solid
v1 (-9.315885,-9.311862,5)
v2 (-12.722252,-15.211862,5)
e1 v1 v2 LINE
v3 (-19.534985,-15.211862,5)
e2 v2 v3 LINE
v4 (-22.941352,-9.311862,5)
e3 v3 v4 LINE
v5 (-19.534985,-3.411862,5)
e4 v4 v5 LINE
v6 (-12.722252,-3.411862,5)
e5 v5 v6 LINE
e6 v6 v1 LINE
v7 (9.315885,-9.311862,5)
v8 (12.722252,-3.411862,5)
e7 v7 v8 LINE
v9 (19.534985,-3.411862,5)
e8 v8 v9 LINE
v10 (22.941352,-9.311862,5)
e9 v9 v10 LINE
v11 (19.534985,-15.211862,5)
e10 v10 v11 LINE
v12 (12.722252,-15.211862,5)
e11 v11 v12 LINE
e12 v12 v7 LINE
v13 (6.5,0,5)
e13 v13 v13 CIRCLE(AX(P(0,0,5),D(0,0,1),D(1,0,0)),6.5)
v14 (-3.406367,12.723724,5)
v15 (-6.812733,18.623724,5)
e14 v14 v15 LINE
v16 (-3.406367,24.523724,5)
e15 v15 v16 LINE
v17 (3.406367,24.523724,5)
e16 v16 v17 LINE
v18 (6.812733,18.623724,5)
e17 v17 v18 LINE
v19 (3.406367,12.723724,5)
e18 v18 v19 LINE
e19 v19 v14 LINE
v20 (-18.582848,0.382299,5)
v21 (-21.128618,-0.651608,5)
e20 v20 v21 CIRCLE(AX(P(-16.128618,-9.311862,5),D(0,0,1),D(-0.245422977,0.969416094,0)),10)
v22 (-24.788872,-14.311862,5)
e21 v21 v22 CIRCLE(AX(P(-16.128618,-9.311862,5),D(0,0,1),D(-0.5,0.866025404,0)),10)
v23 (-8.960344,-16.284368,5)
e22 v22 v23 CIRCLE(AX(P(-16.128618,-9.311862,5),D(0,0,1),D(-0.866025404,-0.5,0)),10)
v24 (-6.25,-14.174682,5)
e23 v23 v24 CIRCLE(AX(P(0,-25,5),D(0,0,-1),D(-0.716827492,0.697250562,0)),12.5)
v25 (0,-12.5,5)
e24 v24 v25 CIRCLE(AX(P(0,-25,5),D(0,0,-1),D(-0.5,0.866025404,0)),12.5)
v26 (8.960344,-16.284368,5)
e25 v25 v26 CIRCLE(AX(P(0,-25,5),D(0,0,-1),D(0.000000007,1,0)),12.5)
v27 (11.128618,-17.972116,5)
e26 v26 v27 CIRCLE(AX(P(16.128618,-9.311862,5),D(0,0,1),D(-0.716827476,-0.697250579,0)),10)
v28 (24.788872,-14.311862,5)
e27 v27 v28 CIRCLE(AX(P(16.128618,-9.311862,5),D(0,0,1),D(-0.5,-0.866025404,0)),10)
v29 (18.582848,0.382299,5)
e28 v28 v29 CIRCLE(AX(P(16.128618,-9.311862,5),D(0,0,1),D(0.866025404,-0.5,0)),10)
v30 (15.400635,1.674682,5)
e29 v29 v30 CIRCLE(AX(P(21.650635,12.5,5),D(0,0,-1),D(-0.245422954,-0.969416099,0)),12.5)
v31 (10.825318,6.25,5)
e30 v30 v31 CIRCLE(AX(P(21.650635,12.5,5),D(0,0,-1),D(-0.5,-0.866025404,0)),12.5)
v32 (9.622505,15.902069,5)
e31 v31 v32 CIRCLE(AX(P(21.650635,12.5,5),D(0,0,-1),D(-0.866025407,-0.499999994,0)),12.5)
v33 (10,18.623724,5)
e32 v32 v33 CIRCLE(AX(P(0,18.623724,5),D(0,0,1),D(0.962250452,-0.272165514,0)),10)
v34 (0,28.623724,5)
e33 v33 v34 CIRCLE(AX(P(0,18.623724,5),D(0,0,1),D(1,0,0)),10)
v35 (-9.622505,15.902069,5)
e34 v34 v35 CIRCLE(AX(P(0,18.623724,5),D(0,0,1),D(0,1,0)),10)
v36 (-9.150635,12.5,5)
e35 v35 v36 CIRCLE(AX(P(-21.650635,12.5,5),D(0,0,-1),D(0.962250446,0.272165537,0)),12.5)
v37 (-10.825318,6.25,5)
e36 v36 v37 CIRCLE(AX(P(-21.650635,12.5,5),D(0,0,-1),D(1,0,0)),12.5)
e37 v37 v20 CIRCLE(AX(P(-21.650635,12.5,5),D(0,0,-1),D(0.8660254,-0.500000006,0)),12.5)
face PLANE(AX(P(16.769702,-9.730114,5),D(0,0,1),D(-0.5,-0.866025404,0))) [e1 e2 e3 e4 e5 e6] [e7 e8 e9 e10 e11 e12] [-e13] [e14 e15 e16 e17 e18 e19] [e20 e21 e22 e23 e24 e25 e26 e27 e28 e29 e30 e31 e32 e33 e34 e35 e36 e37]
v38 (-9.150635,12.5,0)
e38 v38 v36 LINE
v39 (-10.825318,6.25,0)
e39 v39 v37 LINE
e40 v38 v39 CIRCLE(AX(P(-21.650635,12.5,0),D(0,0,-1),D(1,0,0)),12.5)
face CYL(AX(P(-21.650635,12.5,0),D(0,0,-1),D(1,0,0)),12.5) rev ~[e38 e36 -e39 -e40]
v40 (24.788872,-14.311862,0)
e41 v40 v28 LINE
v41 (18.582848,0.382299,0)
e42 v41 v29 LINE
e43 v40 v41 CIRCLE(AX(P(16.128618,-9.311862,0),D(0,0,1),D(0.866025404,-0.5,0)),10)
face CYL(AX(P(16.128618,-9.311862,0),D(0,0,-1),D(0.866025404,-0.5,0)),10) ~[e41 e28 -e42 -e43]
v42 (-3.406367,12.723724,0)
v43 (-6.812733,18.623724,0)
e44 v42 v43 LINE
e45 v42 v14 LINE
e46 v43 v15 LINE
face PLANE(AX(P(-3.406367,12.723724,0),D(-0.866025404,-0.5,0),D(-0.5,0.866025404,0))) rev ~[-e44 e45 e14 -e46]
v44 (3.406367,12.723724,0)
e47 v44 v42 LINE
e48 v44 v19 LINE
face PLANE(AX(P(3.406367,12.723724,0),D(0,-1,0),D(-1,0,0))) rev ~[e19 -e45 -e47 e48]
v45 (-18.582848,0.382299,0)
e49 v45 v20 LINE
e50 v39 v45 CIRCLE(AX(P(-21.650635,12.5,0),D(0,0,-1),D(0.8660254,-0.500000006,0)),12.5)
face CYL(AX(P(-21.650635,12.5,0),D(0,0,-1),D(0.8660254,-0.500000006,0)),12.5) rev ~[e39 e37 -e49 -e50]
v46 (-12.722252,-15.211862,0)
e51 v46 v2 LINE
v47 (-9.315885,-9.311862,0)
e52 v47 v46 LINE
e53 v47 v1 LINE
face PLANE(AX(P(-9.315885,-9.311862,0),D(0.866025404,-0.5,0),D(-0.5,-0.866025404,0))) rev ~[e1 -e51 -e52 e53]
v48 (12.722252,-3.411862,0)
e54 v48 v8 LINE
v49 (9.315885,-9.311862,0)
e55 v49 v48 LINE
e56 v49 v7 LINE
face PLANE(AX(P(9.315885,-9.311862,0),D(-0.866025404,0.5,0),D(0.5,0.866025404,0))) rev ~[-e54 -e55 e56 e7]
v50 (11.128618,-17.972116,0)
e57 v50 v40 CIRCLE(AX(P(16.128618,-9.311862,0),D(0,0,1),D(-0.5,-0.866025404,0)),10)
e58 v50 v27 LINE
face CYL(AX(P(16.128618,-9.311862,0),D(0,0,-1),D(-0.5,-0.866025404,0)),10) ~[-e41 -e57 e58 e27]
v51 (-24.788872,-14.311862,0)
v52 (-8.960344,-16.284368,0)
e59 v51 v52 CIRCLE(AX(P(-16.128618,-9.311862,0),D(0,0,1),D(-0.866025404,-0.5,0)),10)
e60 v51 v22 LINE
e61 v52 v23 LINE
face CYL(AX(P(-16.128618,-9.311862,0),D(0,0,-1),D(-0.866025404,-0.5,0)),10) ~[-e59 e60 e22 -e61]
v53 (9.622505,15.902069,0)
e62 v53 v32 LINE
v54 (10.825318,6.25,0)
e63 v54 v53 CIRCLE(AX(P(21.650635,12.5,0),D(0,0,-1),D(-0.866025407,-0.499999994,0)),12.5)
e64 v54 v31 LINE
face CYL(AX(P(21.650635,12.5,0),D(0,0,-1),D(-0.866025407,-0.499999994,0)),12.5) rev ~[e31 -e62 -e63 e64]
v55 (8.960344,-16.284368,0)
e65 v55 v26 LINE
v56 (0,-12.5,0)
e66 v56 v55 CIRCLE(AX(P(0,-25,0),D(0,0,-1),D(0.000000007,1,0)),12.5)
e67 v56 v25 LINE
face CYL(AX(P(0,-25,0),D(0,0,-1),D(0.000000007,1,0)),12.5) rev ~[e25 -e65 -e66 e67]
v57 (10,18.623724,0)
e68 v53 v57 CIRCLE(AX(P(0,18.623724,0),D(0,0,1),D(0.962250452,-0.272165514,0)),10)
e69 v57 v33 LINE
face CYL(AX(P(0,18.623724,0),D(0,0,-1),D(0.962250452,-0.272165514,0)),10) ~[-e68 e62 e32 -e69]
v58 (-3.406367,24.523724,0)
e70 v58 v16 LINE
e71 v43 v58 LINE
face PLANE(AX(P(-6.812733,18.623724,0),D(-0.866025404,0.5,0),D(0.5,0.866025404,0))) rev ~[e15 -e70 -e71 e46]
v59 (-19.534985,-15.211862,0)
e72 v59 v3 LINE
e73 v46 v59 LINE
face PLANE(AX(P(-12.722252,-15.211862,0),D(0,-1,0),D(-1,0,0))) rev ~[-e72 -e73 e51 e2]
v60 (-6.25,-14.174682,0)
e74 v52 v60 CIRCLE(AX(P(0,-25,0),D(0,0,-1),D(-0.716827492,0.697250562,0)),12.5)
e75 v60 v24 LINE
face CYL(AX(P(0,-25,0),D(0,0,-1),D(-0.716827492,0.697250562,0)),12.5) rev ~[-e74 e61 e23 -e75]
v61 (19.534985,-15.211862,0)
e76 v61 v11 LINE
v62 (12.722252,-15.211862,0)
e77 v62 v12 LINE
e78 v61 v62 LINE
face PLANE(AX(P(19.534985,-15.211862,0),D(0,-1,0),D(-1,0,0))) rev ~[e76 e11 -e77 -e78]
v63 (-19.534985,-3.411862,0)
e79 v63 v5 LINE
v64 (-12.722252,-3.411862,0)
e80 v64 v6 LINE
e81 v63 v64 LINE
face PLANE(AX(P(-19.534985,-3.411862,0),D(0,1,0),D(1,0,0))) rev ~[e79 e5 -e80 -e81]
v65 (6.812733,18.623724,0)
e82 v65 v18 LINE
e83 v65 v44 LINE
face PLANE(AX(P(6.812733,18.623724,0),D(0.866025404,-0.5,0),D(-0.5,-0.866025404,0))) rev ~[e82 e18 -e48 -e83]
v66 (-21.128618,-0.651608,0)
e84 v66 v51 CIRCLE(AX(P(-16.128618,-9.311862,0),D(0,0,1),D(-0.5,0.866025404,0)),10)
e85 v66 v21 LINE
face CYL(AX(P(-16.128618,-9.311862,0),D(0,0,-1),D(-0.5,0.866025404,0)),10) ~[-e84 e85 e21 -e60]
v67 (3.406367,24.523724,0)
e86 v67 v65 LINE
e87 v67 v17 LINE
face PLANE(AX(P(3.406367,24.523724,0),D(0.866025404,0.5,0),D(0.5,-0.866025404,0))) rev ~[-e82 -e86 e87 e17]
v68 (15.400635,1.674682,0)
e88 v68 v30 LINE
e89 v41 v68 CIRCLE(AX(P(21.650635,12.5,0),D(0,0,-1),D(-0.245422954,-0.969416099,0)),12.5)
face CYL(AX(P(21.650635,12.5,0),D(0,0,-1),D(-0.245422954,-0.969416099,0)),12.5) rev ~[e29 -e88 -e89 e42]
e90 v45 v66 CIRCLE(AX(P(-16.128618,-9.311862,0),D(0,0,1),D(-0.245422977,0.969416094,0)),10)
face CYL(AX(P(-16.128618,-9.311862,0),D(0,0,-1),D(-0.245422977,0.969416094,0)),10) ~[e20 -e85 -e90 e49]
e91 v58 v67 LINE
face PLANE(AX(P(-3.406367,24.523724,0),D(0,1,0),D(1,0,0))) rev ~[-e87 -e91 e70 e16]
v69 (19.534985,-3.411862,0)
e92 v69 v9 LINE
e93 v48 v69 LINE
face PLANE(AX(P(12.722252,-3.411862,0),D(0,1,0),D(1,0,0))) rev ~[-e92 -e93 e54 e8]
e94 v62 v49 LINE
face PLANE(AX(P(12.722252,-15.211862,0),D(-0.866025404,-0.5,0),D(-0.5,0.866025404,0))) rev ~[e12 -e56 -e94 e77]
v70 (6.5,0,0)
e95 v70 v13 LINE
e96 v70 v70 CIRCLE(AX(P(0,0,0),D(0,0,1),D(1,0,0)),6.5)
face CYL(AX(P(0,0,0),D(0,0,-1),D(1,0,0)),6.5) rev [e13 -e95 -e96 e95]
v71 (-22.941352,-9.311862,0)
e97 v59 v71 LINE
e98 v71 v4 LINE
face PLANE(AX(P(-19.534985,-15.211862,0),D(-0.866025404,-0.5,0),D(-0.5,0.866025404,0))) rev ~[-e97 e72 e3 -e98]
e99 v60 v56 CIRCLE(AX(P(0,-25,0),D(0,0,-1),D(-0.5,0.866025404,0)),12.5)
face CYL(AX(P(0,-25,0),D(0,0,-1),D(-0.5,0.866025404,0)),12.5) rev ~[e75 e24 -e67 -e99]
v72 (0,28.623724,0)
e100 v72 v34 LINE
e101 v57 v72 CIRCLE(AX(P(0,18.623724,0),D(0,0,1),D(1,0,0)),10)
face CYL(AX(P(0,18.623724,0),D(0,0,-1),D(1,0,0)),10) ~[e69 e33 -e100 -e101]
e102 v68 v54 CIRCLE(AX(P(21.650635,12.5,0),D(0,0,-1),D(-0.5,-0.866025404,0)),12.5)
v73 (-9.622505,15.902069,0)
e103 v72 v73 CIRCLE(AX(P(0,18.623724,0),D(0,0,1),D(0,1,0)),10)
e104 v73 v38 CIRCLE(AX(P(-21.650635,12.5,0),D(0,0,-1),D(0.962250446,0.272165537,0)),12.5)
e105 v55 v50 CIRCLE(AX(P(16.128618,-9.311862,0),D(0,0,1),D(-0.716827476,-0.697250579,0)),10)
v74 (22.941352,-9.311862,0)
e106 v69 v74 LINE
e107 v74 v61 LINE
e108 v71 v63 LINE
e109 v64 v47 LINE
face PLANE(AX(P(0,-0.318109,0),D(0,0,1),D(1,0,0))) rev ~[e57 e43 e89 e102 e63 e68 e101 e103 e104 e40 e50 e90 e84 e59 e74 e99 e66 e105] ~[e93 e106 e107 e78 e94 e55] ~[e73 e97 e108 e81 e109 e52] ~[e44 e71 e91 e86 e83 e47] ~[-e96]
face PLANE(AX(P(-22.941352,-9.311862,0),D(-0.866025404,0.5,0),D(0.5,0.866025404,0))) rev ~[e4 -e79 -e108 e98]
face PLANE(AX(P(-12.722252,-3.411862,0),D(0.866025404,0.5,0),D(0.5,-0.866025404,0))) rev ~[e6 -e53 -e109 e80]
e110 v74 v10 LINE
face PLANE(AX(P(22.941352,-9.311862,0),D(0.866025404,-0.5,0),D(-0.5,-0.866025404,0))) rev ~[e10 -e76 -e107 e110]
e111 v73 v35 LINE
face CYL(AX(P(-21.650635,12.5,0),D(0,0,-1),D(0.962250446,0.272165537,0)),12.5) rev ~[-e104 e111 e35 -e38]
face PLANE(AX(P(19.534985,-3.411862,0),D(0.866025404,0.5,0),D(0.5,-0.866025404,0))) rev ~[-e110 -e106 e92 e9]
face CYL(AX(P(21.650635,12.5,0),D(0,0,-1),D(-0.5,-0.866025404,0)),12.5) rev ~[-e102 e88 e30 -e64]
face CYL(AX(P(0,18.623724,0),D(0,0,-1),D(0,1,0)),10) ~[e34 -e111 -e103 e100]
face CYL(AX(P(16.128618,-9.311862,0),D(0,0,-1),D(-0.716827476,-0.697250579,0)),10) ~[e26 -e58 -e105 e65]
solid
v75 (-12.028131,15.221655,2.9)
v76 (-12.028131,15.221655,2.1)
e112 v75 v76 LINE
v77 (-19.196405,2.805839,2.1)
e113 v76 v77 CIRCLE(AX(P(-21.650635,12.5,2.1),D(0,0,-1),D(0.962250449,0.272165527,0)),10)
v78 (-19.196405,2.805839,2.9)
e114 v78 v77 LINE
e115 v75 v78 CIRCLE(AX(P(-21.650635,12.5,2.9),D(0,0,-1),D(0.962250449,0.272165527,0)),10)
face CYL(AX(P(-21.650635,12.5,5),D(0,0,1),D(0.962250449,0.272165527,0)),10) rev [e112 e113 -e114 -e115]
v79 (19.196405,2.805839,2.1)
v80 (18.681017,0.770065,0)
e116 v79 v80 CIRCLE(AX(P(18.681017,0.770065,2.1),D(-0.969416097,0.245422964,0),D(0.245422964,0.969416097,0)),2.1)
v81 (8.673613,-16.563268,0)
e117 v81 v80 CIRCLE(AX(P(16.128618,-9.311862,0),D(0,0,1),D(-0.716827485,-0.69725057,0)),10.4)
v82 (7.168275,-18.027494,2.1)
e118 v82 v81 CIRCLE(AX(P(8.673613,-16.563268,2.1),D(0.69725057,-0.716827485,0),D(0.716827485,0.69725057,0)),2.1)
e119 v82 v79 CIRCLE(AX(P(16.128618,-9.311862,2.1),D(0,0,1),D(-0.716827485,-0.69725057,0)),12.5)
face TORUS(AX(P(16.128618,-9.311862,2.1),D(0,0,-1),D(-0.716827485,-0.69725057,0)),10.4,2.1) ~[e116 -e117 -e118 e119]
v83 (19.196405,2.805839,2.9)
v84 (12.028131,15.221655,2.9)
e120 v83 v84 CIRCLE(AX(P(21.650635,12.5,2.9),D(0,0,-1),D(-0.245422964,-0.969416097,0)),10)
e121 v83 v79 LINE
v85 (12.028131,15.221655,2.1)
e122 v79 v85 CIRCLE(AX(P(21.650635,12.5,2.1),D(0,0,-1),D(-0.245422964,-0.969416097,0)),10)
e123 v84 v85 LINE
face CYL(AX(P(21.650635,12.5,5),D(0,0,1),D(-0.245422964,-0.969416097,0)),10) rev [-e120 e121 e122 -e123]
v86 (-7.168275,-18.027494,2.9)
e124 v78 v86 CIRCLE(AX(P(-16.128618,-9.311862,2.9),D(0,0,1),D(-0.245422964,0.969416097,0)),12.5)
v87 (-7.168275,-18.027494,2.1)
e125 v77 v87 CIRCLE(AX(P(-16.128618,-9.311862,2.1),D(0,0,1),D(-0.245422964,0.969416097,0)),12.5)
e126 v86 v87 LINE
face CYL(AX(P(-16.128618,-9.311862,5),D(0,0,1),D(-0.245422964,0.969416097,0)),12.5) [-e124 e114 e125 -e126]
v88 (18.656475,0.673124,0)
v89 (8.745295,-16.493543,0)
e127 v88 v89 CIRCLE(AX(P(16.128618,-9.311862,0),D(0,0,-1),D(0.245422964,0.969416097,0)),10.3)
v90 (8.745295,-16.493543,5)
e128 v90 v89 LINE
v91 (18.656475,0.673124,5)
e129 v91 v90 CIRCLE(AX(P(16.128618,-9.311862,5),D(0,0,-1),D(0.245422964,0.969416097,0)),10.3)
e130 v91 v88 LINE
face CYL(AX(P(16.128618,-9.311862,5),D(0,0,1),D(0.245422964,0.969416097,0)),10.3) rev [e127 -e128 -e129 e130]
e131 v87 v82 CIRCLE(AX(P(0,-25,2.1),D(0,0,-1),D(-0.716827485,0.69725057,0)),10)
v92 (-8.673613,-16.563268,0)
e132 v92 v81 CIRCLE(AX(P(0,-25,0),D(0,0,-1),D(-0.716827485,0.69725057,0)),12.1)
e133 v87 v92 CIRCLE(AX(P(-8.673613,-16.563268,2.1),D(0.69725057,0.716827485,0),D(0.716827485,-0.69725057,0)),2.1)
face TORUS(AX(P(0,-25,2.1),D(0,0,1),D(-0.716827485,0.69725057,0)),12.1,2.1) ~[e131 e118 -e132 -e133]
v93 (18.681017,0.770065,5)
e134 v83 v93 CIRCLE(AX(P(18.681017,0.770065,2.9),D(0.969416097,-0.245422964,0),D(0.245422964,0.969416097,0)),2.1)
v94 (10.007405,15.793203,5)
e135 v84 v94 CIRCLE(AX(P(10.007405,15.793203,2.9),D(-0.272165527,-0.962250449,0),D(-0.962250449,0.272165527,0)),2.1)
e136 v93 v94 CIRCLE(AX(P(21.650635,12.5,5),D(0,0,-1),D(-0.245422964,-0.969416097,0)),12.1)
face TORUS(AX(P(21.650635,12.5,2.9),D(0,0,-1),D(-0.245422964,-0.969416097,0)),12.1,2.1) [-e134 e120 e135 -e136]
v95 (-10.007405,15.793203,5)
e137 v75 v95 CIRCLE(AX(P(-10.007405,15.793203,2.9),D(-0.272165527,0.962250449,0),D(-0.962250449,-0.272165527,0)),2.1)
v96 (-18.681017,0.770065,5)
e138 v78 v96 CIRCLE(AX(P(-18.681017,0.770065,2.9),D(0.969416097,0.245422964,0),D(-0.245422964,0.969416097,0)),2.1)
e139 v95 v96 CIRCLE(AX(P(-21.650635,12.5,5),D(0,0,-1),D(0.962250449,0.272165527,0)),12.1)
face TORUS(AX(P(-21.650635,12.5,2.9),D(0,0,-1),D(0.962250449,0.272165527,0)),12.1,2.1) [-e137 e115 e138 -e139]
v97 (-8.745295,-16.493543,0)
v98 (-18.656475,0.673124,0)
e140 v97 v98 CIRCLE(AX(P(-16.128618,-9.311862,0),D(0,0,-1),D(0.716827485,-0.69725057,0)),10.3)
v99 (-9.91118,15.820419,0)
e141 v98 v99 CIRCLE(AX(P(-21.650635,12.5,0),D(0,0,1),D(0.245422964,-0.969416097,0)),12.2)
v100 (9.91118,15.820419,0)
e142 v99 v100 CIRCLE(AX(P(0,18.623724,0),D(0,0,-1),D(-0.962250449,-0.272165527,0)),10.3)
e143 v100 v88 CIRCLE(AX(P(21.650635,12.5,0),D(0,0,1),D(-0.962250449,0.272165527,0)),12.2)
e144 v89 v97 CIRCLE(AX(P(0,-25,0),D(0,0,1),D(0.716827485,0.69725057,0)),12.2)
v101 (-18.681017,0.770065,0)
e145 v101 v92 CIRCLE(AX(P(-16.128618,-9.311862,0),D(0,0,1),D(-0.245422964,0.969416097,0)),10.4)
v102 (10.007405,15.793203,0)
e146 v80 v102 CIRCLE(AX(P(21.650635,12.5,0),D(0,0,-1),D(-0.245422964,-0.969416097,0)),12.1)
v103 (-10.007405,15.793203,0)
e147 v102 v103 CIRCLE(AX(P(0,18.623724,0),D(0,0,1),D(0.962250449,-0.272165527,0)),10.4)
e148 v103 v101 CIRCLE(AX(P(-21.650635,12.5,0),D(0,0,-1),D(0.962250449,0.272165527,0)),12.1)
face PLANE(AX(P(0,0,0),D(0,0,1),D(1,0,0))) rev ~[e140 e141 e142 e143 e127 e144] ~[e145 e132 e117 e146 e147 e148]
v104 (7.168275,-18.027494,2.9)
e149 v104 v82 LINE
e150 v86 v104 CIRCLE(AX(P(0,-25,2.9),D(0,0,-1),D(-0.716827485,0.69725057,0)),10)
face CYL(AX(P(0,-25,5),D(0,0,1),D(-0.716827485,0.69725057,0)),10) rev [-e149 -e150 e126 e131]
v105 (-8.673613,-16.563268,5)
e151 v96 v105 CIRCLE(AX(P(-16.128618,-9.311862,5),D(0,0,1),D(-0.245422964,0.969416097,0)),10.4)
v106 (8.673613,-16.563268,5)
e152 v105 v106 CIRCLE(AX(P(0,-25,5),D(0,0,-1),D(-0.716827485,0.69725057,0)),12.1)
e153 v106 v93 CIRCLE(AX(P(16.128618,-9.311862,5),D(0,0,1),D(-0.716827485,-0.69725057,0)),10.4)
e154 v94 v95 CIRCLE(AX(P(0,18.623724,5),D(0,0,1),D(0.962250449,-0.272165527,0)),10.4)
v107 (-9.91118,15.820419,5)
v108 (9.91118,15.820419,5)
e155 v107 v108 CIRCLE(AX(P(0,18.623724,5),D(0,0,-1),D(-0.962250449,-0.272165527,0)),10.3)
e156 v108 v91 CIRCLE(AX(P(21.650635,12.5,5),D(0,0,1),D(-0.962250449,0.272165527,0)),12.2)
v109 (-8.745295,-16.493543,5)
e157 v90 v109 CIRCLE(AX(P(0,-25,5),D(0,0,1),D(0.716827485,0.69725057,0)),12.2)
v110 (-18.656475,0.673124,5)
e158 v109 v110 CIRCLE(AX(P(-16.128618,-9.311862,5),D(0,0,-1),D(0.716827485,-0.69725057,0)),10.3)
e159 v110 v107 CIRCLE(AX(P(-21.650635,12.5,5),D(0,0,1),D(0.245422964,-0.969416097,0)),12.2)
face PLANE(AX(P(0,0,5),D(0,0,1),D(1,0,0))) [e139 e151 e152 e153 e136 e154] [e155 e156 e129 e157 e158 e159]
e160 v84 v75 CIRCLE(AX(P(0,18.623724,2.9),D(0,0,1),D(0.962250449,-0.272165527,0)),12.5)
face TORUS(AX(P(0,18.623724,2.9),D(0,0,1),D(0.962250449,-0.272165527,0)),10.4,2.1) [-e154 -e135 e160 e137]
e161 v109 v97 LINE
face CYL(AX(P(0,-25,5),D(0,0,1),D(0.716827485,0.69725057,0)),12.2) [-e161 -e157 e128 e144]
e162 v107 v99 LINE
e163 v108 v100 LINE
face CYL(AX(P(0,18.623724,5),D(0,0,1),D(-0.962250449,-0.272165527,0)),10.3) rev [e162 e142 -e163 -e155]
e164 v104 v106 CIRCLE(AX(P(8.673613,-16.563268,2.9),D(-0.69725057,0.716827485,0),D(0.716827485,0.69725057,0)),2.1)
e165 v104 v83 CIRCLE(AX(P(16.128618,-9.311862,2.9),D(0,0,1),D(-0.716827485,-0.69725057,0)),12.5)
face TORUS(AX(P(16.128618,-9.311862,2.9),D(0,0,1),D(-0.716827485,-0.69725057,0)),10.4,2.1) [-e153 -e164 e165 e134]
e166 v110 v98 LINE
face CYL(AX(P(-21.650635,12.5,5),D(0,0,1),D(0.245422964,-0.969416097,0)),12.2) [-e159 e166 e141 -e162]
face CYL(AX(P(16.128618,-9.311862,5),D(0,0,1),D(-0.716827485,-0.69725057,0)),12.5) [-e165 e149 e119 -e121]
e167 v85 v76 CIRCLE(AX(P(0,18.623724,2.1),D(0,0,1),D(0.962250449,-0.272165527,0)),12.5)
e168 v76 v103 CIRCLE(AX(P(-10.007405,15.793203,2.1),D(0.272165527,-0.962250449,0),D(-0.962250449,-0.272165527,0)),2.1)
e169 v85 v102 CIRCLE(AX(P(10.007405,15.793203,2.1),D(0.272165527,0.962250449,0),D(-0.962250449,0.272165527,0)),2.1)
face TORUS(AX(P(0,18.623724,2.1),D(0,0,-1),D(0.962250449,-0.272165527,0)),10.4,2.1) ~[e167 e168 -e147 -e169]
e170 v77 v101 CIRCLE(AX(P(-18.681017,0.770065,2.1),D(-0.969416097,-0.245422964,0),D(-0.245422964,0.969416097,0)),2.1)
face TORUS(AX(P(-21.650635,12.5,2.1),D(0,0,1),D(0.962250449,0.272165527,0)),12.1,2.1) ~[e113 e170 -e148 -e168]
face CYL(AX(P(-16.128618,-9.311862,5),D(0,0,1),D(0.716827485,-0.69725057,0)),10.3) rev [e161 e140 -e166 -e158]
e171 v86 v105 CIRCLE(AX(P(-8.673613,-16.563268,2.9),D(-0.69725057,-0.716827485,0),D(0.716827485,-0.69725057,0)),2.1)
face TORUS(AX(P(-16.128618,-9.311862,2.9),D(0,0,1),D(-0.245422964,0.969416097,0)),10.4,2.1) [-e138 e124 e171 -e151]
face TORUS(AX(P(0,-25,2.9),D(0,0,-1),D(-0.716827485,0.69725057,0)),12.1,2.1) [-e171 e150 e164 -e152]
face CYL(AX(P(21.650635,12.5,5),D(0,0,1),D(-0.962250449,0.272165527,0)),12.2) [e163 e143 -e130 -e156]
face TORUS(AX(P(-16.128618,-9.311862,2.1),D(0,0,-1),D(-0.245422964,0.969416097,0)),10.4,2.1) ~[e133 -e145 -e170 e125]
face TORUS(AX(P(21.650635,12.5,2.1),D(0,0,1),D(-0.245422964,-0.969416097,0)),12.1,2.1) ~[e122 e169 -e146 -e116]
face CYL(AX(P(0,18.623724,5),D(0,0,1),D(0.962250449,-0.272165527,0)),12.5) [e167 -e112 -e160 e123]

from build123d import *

# Parameters (mm, degrees)
F0_R     = 6.5
F1_DEPTH = 5
F2_DEPTH = 5
F3_COUNT = 3
F5_DEPTH = 5
F6_R     = 2.1


with BuildPart() as f1:
    # F0 (on Top) → F1 (new body)
    with BuildSketch(Plane.XY):
        with BuildLine():
            ThreePointArc((-2.67e-08, 8.623724357), (-4.1144438872, 9.5093756968), (-7.5000952085, 12.0094540372))
            Line((-7.5000952085, 12.0094540372), (-10.8253174881, 6.2500001026))
            Line((-10.8253174881, 6.2500001026), (-14.4337567297, 0))
            Line((-14.4337567297, 0), (-7.2168783649, -12.5))
            Line((-7.2168783649, -12.5), (7.2168783649, -12.5))
            Line((7.2168783649, -12.5), (14.4337567297, 0))
            Line((14.4337567297, 0), (10.8253175028, 6.2500000771))
            Line((10.8253175028, 6.2500000771), (7.5000952085, 12.0094540372))
            ThreePointArc((7.5000952085, 12.0094540372), (4.1144438629, 9.5093756858), (-2.67e-08, 8.623724357))
        make_face()
        Circle(F0_R, mode=Mode.SUBTRACT)
        with BuildLine():
            Line((7.2168783649, 12.5), (-7.2168783649, 12.5))
            Line((-7.2168783649, 12.5), (-7.5000952085, 12.0094540372))
            ThreePointArc((-7.5000952085, 12.0094540372), (-4.1144438872, 9.5093756968), (-2.67e-08, 8.623724357))
            ThreePointArc((-2.67e-08, 8.623724357), (4.1144438629, 9.5093756858), (7.5000952085, 12.0094540372))
            Line((7.5000952085, 12.0094540372), (7.2168783649, 12.5))
        make_face()
    extrude(amount=F1_DEPTH)



with BuildPart() as f2:
    # F0 (on Top) → F2 (new body)
    with BuildSketch(Plane.XY):
        with BuildLine():
            Line((-7.5000952085, 12.0094540372), (-7.2168783649, 12.5))
            Line((-7.2168783649, 12.5), (7.2168783649, 12.5))
            Line((7.2168783649, 12.5), (7.5000952085, 12.0094540372))
            ThreePointArc((7.5000952085, 12.0094540372), (8.7797476394, 13.8366551712), (9.6225045221, 15.9020692131))
            ThreePointArc((9.6225045221, 15.9020692131), (9.9051765563, 17.2498694194), (10, 18.623724357))
            ThreePointArc((10, 18.623724357), (7.0710678119, 25.6947921688), (0, 28.623724357))
            ThreePointArc((0, 28.623724357), (-7.9754796545, 24.656279726), (-9.6225045221, 15.9020692131))
            ThreePointArc((-9.6225045221, 15.9020692131), (-8.7797476394, 13.8366551712), (-7.5000952085, 12.0094540372))
        make_face()
        Polygon((-6.8127331764, 18.623724357), (-3.4063665882, 24.523724357), (3.4063665882, 24.523724357), (6.8127331764, 18.623724357), (3.4063665882, 12.723724357), (-3.4063665882, 12.723724357), align=None, mode=Mode.SUBTRACT)
        with BuildLine():
            Line((7.2168783649, 12.5), (-7.2168783649, 12.5))
            Line((-7.2168783649, 12.5), (-7.5000952085, 12.0094540372))
            ThreePointArc((-7.5000952085, 12.0094540372), (-4.1144438872, 9.5093756968), (-2.67e-08, 8.623724357))
            ThreePointArc((-2.67e-08, 8.623724357), (4.1144438629, 9.5093756858), (7.5000952085, 12.0094540372))
            Line((7.5000952085, 12.0094540372), (7.2168783649, 12.5))
        make_face()
        with BuildLine():
            Line((-10.8253174881, 6.2500001026), (-7.5000952085, 12.0094540372))
            ThreePointArc((-7.5000952085, 12.0094540372), (-8.7797476394, 13.8366551712), (-9.6225045221, 15.9020692131))
            ThreePointArc((-9.6225045221, 15.9020692131), (-9.2691644195, 14.2173188178), (-9.1506350946, 12.5))
            ThreePointArc((-9.1506350946, 12.5), (-9.5765622507, 9.2647619935), (-10.8253174881, 6.2500001026))
        make_face()
        with BuildLine():
            ThreePointArc((9.6225045221, 15.9020692131), (8.7797476394, 13.8366551712), (7.5000952085, 12.0094540372))
            Line((7.5000952085, 12.0094540372), (10.8253175028, 6.2500000771))
            ThreePointArc((10.8253175028, 6.2500000771), (9.24657798, 10.9542422252), (9.6225045221, 15.9020692131))
        make_face()
    extrude(amount=F2_DEPTH)


with BuildPart() as f1_1:
    add(f1.part)

    add(f2.part)  # F3 merges F2
    # F3: F2 ×3 about axis
    f3_axis = Axis((0, 0, 0), (0, 0, 1))
    for i in range(1, F3_COUNT):
        add(f2.part.rotate(f3_axis, i * 360 / F3_COUNT))


with BuildPart() as f5:
    # F4 (on face) → F5 (new body)
    with BuildSketch(Plane.XY.offset(5)):
        with BuildLine():
            ThreePointArc((-7.1682748472, -18.0274943015), (0, -15), (7.1682748472, -18.0274943015))
            ThreePointArc((7.1682748472, -18.0274943015), (26.9539359535, -15.5618621785), (19.1964054553, 2.8058390318))
            ThreePointArc((19.1964054553, 2.8058390318), (12.9903810568, 7.5), (12.0281306081, 15.2216552698))
            ThreePointArc((12.0281306081, 15.2216552698), (0, 31.123724357), (-12.0281306081, 15.2216552698))
            ThreePointArc((-12.0281306081, 15.2216552698), (-12.9903810568, 7.5), (-19.1964054553, 2.8058390318))
            ThreePointArc((-19.1964054553, 2.8058390318), (-26.9539359535, -15.5618621785), (-7.1682748472, -18.0274943015))
        make_face()
        with BuildLine():
            ThreePointArc((18.6564749347, 0.6731236188), (25.0486800652, -14.4618621785), (8.7452953136, -16.4935430479))
            ThreePointArc((8.7452953136, -16.4935430479), (0, -12.8), (-8.7452953136, -16.4935430479))
            ThreePointArc((-8.7452953136, -16.4935430479), (-25.0486800652, -14.4618621785), (-18.6564749347, 0.6731236188))
            ThreePointArc((-18.6564749347, 0.6731236188), (-11.0851251684, 6.4), (-9.9111796211, 15.8204194291))
            ThreePointArc((-9.9111796211, 15.8204194291), (0, 28.923724357), (9.9111796211, 15.8204194291))
            ThreePointArc((9.9111796211, 15.8204194291), (11.0851251684, 6.4), (18.6564749347, 0.6731236188))
        make_face(mode=Mode.SUBTRACT)
    extrude(amount=-F5_DEPTH)

    # F6
    f6_edges = [f5.edges().sort_by_distance(p)[0] for p in [
        (-26.953936, -15.561862, 5),
        (-26.953936, -15.561862, 0),
    ]]
    fillet(f6_edges, radius=F6_R)


solid = Compound([f1_1.part, f5.part])
